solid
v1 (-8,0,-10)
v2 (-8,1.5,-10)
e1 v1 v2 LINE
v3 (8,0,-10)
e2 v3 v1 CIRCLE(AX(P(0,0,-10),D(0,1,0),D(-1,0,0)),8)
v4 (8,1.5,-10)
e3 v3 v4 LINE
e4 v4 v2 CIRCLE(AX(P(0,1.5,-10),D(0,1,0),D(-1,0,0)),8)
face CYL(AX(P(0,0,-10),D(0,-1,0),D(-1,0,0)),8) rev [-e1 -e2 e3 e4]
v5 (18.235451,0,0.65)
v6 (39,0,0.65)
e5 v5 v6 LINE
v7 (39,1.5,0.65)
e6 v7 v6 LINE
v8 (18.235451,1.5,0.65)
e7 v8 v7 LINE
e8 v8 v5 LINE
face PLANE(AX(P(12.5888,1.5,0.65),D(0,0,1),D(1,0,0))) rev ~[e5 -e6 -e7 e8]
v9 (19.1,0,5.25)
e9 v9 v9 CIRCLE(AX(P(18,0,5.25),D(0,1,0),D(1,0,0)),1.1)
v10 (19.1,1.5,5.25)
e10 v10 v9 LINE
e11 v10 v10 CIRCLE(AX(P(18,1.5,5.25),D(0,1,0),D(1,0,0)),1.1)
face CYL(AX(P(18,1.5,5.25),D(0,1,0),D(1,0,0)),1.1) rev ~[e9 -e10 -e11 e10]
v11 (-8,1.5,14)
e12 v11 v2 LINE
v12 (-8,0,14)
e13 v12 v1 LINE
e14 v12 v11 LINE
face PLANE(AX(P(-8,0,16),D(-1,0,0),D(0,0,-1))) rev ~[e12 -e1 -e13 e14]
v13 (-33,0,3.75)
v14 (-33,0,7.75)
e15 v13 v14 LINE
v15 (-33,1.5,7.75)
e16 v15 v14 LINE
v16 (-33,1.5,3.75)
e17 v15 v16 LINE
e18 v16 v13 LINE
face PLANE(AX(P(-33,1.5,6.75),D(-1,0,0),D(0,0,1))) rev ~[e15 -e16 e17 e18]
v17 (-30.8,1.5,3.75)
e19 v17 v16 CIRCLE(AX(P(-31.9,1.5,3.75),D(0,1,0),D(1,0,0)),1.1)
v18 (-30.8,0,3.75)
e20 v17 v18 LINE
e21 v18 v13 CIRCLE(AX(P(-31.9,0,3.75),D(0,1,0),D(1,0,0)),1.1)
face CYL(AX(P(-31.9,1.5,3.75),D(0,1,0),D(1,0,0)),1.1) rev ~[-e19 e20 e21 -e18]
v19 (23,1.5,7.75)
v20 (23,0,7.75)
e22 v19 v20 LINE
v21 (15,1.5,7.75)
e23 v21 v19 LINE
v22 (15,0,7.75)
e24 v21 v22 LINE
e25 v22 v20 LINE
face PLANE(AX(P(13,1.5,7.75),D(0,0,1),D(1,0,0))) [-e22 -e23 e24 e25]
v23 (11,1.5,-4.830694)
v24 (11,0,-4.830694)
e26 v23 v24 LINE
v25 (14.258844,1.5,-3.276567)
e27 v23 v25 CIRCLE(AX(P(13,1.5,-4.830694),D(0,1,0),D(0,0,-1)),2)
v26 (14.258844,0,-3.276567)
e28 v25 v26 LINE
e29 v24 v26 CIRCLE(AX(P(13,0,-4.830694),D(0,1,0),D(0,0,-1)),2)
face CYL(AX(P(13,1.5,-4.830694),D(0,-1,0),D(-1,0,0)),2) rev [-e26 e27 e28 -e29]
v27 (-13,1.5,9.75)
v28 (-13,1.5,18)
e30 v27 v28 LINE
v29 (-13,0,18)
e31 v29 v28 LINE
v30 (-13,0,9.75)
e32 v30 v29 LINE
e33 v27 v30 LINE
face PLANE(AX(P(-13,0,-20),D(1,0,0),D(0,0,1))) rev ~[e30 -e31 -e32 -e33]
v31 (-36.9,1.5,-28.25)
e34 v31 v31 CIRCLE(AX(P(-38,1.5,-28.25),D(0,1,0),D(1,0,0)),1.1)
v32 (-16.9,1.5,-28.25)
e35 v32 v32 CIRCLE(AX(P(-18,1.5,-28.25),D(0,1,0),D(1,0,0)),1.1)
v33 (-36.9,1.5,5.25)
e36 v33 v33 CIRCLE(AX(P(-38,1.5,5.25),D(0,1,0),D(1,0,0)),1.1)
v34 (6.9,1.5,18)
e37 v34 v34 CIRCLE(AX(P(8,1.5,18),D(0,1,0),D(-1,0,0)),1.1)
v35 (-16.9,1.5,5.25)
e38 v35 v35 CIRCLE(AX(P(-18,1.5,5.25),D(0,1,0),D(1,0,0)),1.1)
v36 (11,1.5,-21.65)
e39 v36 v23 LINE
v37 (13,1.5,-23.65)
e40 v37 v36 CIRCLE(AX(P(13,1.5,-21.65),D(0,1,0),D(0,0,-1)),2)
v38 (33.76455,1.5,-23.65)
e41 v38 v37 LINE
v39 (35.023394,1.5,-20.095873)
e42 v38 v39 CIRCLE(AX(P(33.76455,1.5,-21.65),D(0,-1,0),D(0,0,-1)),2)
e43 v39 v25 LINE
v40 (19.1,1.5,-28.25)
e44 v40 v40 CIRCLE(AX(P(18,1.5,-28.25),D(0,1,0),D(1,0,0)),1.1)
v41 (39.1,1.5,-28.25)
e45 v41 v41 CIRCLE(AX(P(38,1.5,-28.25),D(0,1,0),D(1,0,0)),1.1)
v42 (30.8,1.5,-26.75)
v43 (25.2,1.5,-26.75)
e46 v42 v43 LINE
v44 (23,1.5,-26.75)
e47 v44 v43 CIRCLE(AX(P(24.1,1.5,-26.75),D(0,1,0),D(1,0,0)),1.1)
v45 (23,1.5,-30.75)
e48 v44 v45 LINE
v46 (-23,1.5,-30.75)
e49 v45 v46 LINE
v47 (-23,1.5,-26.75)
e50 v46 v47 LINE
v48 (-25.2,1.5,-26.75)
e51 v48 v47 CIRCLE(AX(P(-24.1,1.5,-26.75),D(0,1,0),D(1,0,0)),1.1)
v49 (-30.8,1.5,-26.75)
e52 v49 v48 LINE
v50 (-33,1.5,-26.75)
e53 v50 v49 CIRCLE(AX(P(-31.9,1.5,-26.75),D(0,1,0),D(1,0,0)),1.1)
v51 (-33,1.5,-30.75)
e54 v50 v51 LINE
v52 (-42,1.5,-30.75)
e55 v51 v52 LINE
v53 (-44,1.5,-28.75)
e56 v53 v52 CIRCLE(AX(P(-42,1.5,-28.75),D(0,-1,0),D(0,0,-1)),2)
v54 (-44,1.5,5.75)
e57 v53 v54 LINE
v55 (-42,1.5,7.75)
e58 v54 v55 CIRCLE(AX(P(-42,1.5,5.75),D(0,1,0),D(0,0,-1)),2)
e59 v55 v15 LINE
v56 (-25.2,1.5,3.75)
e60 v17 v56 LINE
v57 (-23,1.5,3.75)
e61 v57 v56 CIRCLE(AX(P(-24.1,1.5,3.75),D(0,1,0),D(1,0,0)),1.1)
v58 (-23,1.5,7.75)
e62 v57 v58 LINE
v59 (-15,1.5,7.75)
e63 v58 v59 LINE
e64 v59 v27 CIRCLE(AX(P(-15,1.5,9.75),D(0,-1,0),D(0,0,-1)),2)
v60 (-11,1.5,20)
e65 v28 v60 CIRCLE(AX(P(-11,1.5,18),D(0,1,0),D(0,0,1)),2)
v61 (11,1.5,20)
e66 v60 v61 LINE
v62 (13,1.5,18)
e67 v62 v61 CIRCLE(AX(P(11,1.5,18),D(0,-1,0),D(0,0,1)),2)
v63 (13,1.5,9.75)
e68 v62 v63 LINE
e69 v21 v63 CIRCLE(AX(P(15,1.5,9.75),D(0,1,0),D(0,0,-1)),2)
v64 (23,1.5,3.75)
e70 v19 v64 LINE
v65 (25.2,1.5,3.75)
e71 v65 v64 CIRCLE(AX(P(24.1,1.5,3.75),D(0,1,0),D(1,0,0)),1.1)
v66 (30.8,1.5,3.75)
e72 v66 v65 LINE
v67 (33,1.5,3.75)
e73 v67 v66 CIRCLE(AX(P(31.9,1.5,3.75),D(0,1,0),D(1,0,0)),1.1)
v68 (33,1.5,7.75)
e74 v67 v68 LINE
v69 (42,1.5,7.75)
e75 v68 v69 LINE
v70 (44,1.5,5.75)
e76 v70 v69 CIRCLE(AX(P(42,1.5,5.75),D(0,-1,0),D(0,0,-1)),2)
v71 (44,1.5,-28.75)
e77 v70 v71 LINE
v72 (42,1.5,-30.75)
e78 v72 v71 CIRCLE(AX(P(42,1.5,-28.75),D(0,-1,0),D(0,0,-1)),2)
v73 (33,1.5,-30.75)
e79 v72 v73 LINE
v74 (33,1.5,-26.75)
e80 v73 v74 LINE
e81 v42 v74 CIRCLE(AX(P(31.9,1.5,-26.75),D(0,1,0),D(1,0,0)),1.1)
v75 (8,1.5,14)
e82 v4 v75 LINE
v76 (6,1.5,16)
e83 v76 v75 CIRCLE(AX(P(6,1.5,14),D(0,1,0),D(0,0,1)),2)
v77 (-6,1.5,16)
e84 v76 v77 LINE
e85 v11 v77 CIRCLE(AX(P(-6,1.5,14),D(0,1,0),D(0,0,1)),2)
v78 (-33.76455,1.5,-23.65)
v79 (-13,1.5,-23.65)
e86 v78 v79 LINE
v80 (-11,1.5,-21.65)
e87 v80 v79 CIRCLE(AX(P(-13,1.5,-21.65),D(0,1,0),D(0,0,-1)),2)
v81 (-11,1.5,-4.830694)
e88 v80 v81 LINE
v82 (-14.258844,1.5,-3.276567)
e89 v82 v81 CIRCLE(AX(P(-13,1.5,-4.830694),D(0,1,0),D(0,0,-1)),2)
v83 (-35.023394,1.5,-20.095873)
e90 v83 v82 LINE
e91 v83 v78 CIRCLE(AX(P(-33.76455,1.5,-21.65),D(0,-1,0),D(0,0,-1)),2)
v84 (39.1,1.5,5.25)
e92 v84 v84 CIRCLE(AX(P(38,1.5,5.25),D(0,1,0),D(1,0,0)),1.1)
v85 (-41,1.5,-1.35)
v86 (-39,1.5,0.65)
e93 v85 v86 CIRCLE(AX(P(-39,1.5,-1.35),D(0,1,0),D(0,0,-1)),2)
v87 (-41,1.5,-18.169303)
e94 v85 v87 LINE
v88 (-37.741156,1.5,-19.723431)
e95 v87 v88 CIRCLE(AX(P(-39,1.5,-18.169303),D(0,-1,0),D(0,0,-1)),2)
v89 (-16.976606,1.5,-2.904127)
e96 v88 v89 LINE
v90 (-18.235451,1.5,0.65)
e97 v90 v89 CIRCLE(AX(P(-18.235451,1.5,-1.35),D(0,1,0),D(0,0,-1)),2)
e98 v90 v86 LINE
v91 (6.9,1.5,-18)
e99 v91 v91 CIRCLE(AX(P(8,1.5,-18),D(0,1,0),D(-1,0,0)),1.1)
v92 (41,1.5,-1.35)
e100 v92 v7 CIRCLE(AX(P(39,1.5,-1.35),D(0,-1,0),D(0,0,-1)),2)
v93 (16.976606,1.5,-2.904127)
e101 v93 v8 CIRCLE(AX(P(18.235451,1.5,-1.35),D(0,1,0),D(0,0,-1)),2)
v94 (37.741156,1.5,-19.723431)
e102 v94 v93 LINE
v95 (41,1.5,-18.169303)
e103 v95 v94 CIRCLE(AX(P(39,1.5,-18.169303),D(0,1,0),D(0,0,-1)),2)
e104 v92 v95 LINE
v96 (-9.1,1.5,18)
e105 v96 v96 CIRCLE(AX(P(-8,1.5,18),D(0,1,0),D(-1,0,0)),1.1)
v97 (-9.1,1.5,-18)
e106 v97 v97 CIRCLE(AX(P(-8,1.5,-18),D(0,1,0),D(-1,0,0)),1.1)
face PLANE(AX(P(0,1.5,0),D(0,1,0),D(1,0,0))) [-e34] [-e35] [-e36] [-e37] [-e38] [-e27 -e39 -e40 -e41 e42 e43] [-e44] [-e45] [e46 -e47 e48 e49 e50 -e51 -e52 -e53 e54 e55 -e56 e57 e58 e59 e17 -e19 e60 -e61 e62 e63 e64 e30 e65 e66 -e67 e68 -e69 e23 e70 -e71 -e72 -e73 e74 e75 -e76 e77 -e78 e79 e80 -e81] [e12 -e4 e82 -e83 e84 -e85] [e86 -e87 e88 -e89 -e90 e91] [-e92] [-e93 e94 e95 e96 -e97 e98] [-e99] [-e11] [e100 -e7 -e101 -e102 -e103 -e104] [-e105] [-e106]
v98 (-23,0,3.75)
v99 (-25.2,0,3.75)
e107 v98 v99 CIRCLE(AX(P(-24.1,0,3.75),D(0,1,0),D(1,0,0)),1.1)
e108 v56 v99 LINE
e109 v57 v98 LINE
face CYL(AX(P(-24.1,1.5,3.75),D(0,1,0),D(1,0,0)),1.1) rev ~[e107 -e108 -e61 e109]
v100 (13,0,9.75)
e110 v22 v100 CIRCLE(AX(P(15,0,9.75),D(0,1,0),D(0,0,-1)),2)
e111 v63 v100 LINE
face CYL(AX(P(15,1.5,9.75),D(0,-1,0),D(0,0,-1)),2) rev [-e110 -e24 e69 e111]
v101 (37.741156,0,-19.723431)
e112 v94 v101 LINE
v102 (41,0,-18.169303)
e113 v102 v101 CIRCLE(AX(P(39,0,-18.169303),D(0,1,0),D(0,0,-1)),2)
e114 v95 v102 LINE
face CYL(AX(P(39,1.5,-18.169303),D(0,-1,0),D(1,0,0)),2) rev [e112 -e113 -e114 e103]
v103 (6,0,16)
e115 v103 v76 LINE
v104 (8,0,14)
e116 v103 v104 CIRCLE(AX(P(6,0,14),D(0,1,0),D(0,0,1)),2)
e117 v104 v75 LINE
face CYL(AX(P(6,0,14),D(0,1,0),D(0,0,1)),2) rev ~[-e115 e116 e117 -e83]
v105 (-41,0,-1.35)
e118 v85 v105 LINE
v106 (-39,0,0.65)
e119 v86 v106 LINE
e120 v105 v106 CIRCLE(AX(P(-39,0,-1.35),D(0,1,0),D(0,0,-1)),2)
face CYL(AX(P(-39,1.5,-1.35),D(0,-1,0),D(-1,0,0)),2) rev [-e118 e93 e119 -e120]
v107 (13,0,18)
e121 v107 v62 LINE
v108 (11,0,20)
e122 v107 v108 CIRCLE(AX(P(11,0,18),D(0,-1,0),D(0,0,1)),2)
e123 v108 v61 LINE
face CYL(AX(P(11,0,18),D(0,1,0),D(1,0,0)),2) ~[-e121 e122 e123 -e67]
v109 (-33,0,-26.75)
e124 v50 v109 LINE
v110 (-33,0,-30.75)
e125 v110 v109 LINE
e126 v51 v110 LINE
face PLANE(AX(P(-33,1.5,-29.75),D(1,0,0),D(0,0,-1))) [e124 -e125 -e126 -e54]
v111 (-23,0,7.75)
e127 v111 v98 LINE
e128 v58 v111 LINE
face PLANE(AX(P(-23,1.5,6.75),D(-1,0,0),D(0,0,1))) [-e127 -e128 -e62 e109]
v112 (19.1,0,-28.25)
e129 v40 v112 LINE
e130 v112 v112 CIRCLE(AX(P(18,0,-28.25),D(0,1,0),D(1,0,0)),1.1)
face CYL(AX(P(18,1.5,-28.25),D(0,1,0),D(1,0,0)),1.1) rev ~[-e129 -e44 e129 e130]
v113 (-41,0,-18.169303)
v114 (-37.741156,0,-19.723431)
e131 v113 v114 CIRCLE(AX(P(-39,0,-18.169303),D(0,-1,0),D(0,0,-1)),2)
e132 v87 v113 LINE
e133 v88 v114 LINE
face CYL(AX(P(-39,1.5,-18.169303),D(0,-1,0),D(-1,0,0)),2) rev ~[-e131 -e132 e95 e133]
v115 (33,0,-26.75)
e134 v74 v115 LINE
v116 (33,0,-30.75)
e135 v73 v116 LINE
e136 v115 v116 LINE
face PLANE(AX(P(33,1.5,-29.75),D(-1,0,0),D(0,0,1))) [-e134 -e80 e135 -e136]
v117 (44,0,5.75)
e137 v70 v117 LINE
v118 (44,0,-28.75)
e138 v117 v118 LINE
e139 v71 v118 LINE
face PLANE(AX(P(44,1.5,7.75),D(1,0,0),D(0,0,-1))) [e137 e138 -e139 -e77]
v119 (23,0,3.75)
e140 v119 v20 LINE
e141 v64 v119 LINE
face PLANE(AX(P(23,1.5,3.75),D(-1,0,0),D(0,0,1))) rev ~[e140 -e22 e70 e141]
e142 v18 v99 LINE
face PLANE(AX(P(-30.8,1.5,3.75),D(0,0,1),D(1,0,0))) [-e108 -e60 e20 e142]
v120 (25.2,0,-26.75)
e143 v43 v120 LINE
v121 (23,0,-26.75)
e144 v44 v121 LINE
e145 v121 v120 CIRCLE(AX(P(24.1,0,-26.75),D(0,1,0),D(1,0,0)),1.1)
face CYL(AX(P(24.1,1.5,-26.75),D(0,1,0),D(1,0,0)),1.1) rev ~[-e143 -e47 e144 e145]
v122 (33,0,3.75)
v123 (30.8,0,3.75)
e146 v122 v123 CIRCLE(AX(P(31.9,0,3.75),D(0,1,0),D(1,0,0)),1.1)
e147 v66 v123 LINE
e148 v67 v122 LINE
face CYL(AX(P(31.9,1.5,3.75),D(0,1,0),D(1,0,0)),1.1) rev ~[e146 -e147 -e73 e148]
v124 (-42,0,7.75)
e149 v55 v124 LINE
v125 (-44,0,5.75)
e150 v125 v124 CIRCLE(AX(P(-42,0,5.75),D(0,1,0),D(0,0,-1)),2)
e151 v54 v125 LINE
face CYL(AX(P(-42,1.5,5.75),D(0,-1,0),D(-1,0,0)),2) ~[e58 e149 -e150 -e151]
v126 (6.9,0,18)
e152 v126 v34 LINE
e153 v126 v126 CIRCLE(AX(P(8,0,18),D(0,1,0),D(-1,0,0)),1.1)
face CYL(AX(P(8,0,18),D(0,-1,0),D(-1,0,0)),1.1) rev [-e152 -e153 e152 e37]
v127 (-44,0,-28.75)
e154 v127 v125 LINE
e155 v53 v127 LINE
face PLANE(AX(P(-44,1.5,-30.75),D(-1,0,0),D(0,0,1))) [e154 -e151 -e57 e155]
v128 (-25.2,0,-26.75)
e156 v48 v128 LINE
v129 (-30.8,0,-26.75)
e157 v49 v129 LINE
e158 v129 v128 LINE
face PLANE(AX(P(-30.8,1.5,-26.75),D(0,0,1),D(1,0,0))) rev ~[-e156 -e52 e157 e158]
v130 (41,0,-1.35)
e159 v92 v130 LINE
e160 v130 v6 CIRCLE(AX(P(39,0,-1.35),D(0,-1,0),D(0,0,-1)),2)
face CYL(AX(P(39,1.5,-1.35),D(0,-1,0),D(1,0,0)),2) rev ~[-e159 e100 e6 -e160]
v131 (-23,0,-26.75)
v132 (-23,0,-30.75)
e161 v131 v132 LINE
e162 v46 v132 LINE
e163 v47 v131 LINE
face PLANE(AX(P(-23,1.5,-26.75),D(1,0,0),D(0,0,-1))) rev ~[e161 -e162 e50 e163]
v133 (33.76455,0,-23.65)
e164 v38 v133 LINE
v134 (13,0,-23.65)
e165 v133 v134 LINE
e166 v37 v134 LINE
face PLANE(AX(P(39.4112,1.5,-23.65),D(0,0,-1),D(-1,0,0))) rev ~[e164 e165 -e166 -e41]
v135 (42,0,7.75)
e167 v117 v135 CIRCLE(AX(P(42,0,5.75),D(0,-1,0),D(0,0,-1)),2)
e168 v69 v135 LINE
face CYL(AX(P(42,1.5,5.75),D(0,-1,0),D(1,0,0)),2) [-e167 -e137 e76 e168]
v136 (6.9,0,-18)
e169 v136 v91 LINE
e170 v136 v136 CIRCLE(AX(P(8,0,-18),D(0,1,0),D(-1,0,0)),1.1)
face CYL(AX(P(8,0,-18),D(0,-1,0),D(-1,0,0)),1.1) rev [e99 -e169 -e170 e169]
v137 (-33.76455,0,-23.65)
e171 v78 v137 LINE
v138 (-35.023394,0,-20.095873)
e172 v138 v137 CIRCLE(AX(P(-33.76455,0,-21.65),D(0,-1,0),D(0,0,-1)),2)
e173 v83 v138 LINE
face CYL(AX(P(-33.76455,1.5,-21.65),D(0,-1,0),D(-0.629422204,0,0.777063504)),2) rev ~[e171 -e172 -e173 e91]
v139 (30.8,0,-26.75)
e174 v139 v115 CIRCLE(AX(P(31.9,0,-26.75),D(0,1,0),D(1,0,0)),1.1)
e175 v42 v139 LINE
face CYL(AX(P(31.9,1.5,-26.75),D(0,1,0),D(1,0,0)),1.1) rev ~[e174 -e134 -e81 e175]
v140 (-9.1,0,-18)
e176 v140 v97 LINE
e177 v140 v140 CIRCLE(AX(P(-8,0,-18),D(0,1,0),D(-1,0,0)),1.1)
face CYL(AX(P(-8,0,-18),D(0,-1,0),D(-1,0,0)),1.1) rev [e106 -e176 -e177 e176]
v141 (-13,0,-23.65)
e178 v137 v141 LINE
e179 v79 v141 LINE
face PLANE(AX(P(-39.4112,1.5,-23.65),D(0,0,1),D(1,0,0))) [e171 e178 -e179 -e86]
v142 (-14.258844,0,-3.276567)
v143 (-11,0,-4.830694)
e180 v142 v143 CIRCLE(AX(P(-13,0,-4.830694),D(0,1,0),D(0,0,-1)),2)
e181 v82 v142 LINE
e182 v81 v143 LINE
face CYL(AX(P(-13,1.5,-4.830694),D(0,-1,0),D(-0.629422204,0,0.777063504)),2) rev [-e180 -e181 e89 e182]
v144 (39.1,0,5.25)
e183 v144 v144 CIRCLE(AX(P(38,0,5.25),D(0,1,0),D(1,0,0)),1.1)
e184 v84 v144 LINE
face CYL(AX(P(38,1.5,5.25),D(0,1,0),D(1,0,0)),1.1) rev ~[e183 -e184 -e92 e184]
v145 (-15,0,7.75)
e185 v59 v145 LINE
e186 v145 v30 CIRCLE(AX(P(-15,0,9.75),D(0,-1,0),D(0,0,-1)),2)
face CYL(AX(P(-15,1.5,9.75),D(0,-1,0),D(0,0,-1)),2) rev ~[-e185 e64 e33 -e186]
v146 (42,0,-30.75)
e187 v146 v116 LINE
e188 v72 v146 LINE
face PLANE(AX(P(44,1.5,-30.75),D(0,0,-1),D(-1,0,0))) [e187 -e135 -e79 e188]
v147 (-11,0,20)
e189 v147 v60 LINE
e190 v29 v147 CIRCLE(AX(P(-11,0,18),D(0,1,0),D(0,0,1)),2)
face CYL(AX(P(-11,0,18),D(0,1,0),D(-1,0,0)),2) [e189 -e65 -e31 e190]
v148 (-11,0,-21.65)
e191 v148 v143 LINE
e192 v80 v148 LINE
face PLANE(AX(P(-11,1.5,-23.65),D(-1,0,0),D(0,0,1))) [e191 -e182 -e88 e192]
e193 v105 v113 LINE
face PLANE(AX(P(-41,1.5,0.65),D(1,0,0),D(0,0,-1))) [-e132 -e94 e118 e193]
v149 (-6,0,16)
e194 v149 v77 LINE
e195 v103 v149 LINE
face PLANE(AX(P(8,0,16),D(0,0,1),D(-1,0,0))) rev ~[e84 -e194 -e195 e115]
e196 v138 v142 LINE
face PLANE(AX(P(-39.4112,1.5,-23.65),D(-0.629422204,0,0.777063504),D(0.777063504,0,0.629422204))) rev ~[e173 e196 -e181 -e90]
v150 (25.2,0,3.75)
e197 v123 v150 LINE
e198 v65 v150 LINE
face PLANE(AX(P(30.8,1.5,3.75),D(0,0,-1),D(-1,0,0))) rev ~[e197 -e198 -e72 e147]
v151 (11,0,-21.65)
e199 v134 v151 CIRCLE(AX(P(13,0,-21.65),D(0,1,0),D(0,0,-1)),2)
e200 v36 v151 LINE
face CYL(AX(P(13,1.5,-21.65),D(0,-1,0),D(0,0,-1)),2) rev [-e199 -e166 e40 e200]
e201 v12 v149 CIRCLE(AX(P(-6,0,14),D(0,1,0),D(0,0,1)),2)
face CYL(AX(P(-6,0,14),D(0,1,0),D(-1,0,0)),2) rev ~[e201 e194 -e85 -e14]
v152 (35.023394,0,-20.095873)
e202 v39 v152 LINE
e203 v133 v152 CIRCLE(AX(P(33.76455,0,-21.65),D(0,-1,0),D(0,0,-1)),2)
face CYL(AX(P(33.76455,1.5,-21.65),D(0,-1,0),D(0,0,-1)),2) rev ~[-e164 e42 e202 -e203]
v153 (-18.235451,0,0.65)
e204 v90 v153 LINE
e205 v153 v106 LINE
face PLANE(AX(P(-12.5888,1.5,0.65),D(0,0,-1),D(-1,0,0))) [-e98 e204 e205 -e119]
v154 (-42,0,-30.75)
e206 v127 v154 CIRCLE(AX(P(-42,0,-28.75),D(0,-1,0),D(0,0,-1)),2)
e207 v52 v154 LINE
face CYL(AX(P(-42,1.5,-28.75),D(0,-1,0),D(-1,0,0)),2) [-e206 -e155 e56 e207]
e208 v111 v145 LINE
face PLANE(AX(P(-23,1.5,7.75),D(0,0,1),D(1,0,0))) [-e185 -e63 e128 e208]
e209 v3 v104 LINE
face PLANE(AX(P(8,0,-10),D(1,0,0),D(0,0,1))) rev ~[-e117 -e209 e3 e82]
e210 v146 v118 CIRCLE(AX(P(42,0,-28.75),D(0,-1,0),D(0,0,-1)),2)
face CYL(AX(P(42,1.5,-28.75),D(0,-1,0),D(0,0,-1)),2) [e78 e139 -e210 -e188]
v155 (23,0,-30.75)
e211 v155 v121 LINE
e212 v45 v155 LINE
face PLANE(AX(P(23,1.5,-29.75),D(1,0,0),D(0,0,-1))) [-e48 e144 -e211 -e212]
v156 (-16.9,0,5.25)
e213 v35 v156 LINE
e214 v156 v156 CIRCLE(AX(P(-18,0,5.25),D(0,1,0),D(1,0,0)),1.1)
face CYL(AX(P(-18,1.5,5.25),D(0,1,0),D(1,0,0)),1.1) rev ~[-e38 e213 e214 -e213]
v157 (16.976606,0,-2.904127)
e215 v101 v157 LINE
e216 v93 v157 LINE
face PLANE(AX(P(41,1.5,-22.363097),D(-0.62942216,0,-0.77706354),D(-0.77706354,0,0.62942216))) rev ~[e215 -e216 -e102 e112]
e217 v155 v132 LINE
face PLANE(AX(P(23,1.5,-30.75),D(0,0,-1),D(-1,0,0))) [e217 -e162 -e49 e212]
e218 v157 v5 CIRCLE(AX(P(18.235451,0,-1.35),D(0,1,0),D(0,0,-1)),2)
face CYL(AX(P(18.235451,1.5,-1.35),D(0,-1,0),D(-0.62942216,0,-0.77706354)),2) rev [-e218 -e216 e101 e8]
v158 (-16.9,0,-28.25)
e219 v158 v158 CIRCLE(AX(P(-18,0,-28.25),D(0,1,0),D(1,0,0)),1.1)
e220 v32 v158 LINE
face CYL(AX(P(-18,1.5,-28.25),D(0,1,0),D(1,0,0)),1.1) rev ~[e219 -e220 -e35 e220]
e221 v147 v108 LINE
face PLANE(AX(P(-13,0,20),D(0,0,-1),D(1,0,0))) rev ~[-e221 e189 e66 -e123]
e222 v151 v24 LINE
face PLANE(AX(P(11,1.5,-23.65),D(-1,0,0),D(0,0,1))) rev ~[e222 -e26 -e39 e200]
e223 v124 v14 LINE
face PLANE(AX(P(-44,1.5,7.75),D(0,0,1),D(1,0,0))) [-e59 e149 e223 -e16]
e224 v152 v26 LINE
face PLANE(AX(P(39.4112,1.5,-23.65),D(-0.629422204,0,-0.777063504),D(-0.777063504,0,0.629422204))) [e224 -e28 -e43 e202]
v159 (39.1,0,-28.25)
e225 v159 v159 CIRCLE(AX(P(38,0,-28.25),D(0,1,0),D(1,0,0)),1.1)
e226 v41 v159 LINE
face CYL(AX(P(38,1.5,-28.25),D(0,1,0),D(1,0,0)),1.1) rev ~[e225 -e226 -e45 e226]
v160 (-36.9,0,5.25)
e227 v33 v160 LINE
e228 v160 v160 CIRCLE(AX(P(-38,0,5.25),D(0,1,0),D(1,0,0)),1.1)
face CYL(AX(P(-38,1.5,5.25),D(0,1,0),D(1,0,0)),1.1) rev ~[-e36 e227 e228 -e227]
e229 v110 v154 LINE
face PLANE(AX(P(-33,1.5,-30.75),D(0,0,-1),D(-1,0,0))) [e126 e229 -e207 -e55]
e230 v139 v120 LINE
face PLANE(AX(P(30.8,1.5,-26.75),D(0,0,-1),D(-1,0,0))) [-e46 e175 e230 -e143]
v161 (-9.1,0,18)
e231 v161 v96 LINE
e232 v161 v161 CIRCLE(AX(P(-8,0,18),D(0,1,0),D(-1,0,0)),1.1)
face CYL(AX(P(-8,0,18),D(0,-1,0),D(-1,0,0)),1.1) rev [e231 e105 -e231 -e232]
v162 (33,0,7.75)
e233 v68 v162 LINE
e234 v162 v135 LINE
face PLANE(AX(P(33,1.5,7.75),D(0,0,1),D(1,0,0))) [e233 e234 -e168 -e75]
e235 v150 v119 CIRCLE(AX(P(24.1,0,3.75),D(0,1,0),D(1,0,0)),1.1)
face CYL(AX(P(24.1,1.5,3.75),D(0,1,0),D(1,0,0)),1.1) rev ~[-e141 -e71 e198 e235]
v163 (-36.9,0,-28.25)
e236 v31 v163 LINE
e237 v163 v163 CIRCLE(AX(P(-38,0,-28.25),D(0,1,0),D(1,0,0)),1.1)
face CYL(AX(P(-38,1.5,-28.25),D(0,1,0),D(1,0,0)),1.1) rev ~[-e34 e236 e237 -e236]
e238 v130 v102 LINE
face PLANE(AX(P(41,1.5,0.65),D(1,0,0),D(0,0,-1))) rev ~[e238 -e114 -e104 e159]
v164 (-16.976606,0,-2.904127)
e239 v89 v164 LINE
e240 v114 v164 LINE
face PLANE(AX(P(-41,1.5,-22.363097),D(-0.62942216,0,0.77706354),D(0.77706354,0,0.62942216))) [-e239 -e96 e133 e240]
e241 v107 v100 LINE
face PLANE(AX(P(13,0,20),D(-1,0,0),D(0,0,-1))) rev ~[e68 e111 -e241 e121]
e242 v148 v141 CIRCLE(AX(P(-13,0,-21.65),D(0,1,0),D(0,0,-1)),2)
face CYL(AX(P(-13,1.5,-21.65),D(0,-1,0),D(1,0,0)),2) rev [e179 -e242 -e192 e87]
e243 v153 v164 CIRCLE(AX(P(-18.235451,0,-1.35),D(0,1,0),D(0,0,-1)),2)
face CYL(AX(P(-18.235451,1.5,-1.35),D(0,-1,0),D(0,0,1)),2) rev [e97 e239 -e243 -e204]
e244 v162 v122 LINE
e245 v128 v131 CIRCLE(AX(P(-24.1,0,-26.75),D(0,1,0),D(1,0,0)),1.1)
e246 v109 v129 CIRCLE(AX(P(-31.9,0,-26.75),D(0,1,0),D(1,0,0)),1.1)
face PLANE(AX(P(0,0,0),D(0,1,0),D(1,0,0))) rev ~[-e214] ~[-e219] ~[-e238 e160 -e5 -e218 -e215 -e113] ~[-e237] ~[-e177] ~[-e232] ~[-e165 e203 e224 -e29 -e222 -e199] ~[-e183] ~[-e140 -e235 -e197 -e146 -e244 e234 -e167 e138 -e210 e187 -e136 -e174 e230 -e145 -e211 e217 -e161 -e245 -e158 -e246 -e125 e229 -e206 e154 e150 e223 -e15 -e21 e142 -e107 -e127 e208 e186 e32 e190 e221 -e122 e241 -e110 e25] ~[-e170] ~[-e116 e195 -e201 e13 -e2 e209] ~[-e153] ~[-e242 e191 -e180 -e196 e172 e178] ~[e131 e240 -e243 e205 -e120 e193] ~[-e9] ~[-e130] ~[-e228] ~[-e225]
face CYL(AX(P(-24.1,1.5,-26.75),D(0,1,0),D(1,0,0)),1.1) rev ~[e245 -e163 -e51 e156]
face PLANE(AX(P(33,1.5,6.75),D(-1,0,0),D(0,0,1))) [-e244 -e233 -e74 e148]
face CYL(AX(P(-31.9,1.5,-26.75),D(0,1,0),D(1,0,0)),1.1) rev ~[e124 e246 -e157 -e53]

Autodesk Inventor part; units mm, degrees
ref_plane "YZ Plane" through (0, 0, 0) normal (1, 0, 0) x (0, 1, 0)
ref_plane "XZ Plane" through (0, 0, 0) normal (0, 1, 0) x (-1, 0, 0)
ref_plane "XY Plane" through (0, 0, 0) normal (0, 0, 1) x (1, 0, 0)
sketch "スケッチ1" plane through (0, 0, 0) normal (0, 1, 0) x (-1, 0, 0)
  line L0 (8, 18) -> (-8, 18) construction
  line L1 (-8, 18) -> (-8, -18) construction
  line L2 (-8, -18) -> (8, -18) construction
  line L3 (8, -18) -> (8, 18) construction
  line L4 (8, 18) -> (-8, -18) construction
  line L5 (-8, 18) -> (8, -18) construction
  circle A0 centre (8, -18) radius 1.1
  circle A1 centre (-8, -18) radius 1.1
  circle A2 centre (8, 18) radius 1.1
  circle A3 centre (-8, 18) radius 1.1
  line L6 (13, 20) -> (-13, 20)
  line L7 (-13, 20) -> (-13, -20)
  line L8 (-13, -20) -> (13, -20)
  line L9 (13, -20) -> (13, 20)
  line L10 (13, 20) -> (-13, -20) construction
  line L11 (-13, 20) -> (13, -20) construction
  line L12 (8, -10) -> (-8, -10)
  line L13 (-8, -10) -> (-8, 16)
  line L14 (-8, 16) -> (8, 16)
  line L15 (8, 16) -> (8, -10)
  circle A4 centre (0, -10) radius 8
  point P0 (0, 0)
  dimension "d0" = 2.2
  dimension "d1" = 16
  dimension "d2" = 36
  dimension "d5" = 16
  dimension "d8" = 36
  dimension "d11" = 2
  dimension "d12" = 5
  dimension "d15" = 2
  dimension "d16" = 10
extrude "押し出し1" add sketch "スケッチ1" along normal blind 1.5
fillet "フィレット1" radius 2 2 edges at (8, 0.75, 16) (-8, 0.75, 16)
sketch "スケッチ2" plane through (0, 1.5, 0) normal (0, 1, 0) x (1, 0, 0)
  line L0 (-44, -7.75) -> (44, -7.75)
  line L1 (44, -7.75) -> (44, 30.75)
  line L2 (44, 30.75) -> (-44, 30.75)
  line L3 (-44, 30.75) -> (-44, -7.75)
  line L4 (-44, -7.75) -> (44, 30.75) construction
  line L5 (44, -7.75) -> (-44, 30.75) construction
  line L6 (13, 20) -> (-13, 20) projected
  line L7 (-13, 20) -> (-13, -20) projected
  line L8 (-8, -14) -> (-8, 10) projected
  line L9 (8, 10) -> (8, -14) projected
  line L10 (13, -20) -> (13, 20) projected
  line L11 (13, 20) -> (-13, 20) projected
  line L12 (-13, 20) -> (-13, -20) projected
  line L13 (-13, -20) -> (13, -20) projected
  circle A0 centre (-8, -18) radius 1.1 projected
  circle A1 centre (8, -18) radius 1.1 projected
  circle A2 centre (8, 18) radius 1.1 projected
  circle A3 centre (-8, 18) radius 1.1 projected
  line L14 (-8, -14) -> (-8, 10) projected
  arc A4 (8, 10) -> (-8, 10) centre (0, 10) ccw projected
  line L15 (8, 10) -> (8, -14) projected
  arc A5 (6, -16) -> (8, -14) centre (6, -14) ccw projected
  line L16 (6, -16) -> (-6, -16) projected
  arc A6 (-8, -14) -> (-6, -16) centre (-6, -14) ccw projected
  line L17 (33, 26.75) -> (23, 26.75)
  line L18 (23, 26.75) -> (23, 29.75)
  line L19 (23, 29.75) -> (33, 29.75)
  line L20 (33, 29.75) -> (33, 26.75)
  circle A7 centre (38, 28.25) radius 1.1
  line L21 (28, 26.75) -> (28, 29.75) construction
  circle A8 centre (18, 28.25) radius 1.1
  line L22 (44, 11.5) -> (-44, 11.5) construction
  line L23 (33, -3.75) -> (23, -3.75)
  line L24 (23, -3.75) -> (23, -6.75)
  line L25 (23, -6.75) -> (33, -6.75)
  line L26 (33, -6.75) -> (33, -3.75)
  circle A9 centre (38, -5.25) radius 1.1
  line L27 (28, -3.75) -> (28, -6.75) construction
  circle A10 centre (18, -5.25) radius 1.1
  line L28 (0, 30.75) -> (0, -7.75) construction
  line L29 (-33, 26.75) -> (-23, 26.75)
  line L30 (-23, 26.75) -> (-23, 29.75)
  line L31 (-23, 29.75) -> (-33, 29.75)
  line L32 (-33, 29.75) -> (-33, 26.75)
  circle A11 centre (-38, 28.25) radius 1.1
  line L33 (-28, 26.75) -> (-28, 29.75) construction
  circle A12 centre (-18, 28.25) radius 1.1
  circle A13 centre (-18, -5.25) radius 1.1
  line L34 (-23, -3.75) -> (-23, -6.75)
  line L35 (-28, -3.75) -> (-28, -6.75) construction
  line L36 (-33, -3.75) -> (-23, -3.75)
  line L37 (-23, -6.75) -> (-33, -6.75)
  line L38 (-33, -6.75) -> (-33, -3.75)
  circle A14 centre (-38, -5.25) radius 1.1
  circle A15 centre (-31.9, -6.75) radius 1.1
  circle A16 centre (-24.1, -6.75) radius 1.1
  line L39 (-33, -5.25) -> (-28, -5.25) construction
  circle A17 centre (-31.9, -3.75) radius 1.1
  circle A18 centre (-24.1, -3.75) radius 1.1
  circle A19 centre (-31.9, 29.75) radius 1.1
  circle A20 centre (-24.1, 29.75) radius 1.1
  circle A21 centre (-31.9, 26.75) radius 1.1
  circle A22 centre (-24.1, 26.75) radius 1.1
  circle A23 centre (31.9, -6.75) radius 1.1
  circle A24 centre (24.1, -6.75) radius 1.1
  circle A25 centre (31.9, -3.75) radius 1.1
  circle A26 centre (24.1, -3.75) radius 1.1
  circle A27 centre (31.9, 29.75) radius 1.1
  circle A28 centre (31.9, 26.75) radius 1.1
  circle A29 centre (24.1, 26.75) radius 1.1
  circle A30 centre (24.1, 29.75) radius 1.1
  line L40 (33, 29.75) -> (33, 30.75)
  line L41 (23, 29.75) -> (23, 30.75)
  line L42 (-33, 29.75) -> (-33, 30.75)
  line L43 (-23, 29.75) -> (-23, 30.75)
  line L44 (33, -6.75) -> (33, -7.75)
  line L45 (23, -6.75) -> (23, -7.75)
  line L46 (-33, -6.75) -> (-33, -7.75)
  line L47 (-23, -6.75) -> (-23, -7.75)
  point P0 (0, 0)
  point P1 (0, 11.5)
  point P2 (-13, -7.75)
  point P3 (13, -7.75)
  point P4 (33, 28.25)
  point P5 (33, -5.25)
  point P6 (-13, 20)
  point P7 (-13, 20)
  point P8 (-33, 28.25)
  point P9 (33, -3.75)
  point P10 (33, -6.75)
  point P11 (30.8, -6.75)
  point P12 (25.2, -6.75)
  point P13 (23, -6.75)
  point P14 (23, -3.75)
  point P15 (23, -3.75)
  point P16 (-23, 29.75)
  point P17 (-23, 26.75)
  point P18 (-25.2, 26.75)
  point P19 (-30.8, 26.75)
  point P20 (-33, 26.75)
  point P21 (-33, 29.75)
  point P22 (-23, -3.75)
  point P23 (-23, -6.75)
  point P24 (-25.2, -6.75)
  point P25 (-30.8, -6.75)
  point P26 (-33, -3.75)
  point P27 (33, 29.75)
  point P28 (33, 26.75)
  point P29 (30.8, 26.75)
  point P30 (25.2, 26.75)
  point P31 (23, 26.75)
  point P32 (23, 29.75)
  point P33 (23, 29.75)
  point P34 (24.2, -6.75)
  point P35 (-29.8, 26.75)
  point P36 (24.2, 26.75)
  point P37 (27.2, -3.75)
  point P38 (23, -6.75)
  point P39 (30.8, -3.75)
  point P40 (-25.2, 29.75)
  point P41 (-32.8, 29.75)
  point P42 (27.2, 29.75)
  point P43 (30.8, 29.75)
  point P44 (23, 26.75)
  point P45 (-32.8, -3.75)
  point P46 (26.2, -3.75)
  point P47 (-31.8, 29.75)
  point P48 (-31.8, -3.75)
  point P49 (-25.2, -3.75)
  point P50 (26.2, 29.75)
  point P51 (25.2, -3.75)
  point P52 (-30.8, 29.75)
  point P53 (-30.8, -3.75)
  point P54 (25.2, 29.75)
  point P55 (32.3583, 30.75)
  point P56 (23.6417, 30.75)
  point P57 (-23.6417, 30.75)
  point P58 (-32.3583, 30.75)
  point P59 (-32.3583, -7.75)
  point P60 (-23.6417, -7.75)
  point P61 (23.6417, -7.75)
  point P62 (32.3583, -7.75)
  dimension "d30" = 2.2
  dimension "d19" = 31
  dimension "d22" = 10
  dimension "d23" = 3
  dimension "d25" = 2.2
  dimension "d26" = 5
  dimension "d27" = 6
  dimension "d29" = 1
  dimension "d31" = 18.25
extrude "押し出し3" add sketch "スケッチ2" against normal blind 1.5 contours L3 L2 L42 L32 A21 L29 A22 L30 L43 L41 L18 A29 L17 A28 L20 L40 L1 L0 L44 L26 A25 L23 A26 L24 L45 L10 L6 L7 L47 L34 A18 L36 A17 L38 L46
fillet "フィレット2" radius 2 8 edges at (44, 0.75, -30.75) (44, 0.75, 7.75) (13, 0.75, 7.75) (13, 0.75, 20) (-13, 0.75, 20) (-13, 0.75, 7.75) (-44, 0.75, 7.75) (-44, 0.75, -30.75)
sketch "スケッチ4" plane through (0, 1.5, 0) normal (0, 1, 0) x (1, 0, 0)
  line L0 (41, 23.65) -> (11, 23.65)
  line L1 (11, 23.65) -> (11, -0.65)
  line L2 (11, -0.65) -> (41, -0.65)
  line L3 (41, -0.65) -> (41, 23.65)
  arc A0 (30.8, 26.75) -> (33, 26.75) centre (31.9, 26.75) ccw projected
  line L4 (44, -5.75) -> (44, 28.75) projected
  arc A1 (33, -3.75) -> (30.8, -3.75) centre (31.9, -3.75) ccw projected
  line L5 (-11, -20) -> (11, -20) construction
  line L6 (0, -20) -> (0, 21) construction
  line L7 (-41, 23.65) -> (-11, 23.65)
  line L8 (-11, 23.65) -> (-11, -0.65)
  line L9 (-11, -0.65) -> (-41, -0.65)
  line L10 (-41, -0.65) -> (-41, 23.65)
  line L11 (-44, -5.75) -> (-44, 28.75)
  line L12 (11, -0.65) -> (41, 23.65) construction
  line L13 (44, 24.7931) -> (12.5888, -0.65)
  line L14 (39.4112, 23.65) -> (11, 0.6369)
  line L15 (-44, 24.7931) -> (-12.5888, -0.65)
  line L16 (-39.4112, 23.65) -> (-11, 0.6369)
  line L17 (8, 10) -> (8, -14) projected
  point P0 (0, 0)
  point P1 (31.9, 25.65)
  point P2 (41, 11.5)
  point P3 (31.9, -2.65)
  point P4 (-41, 11.5)
  point P5 (-15, 23)
  point P6 (41, 22.3631)
  point P7 (39.7412, 23.9172)
  point P8 (11.3299, 0.9041)
  point P9 (-11.3299, 0.9041)
  point P10 (17, 0.7731)
  point P11 (-12.5888, -0.65)
  point P12 (-41, 22.3631)
  point P13 (-39.4112, 23.65)
  point P14 (-17, 0.7731)
  dimension "d39" = 2
  dimension "d40" = 3
  dimension "d41" = 2
  dimension "d43" = 1
  dimension "d48" = 3
extrude "押し出し5" cut sketch "スケッチ4" against normal blind 1.5 contours L14 L1 L0 | L3 L2 L13 | L7 L8 L16 | L15 L9 L10
fillet "フィレット3" radius 2 12 edges at (-39.4112, 0.75, -23.65) (-41, 0.75, -22.3631) (-11, 0.75, -23.65) (-12.5888, 0.75, 0.65) (-41, 0.75, 0.65) (41, 0.75, 0.65) (39.4112, 0.75, -23.65) (41, 0.75, -22.3631) (11, 0.75, -23.65) (12.5888, 0.75, 0.65) (-11, 0.75, -0.6369) (11, 0.75, -0.6369)
equation "\"d5\" = d1"
equation "\"d8\" = d2"
properties part number "KSHI" material "アルミニウム 2014-T4"
